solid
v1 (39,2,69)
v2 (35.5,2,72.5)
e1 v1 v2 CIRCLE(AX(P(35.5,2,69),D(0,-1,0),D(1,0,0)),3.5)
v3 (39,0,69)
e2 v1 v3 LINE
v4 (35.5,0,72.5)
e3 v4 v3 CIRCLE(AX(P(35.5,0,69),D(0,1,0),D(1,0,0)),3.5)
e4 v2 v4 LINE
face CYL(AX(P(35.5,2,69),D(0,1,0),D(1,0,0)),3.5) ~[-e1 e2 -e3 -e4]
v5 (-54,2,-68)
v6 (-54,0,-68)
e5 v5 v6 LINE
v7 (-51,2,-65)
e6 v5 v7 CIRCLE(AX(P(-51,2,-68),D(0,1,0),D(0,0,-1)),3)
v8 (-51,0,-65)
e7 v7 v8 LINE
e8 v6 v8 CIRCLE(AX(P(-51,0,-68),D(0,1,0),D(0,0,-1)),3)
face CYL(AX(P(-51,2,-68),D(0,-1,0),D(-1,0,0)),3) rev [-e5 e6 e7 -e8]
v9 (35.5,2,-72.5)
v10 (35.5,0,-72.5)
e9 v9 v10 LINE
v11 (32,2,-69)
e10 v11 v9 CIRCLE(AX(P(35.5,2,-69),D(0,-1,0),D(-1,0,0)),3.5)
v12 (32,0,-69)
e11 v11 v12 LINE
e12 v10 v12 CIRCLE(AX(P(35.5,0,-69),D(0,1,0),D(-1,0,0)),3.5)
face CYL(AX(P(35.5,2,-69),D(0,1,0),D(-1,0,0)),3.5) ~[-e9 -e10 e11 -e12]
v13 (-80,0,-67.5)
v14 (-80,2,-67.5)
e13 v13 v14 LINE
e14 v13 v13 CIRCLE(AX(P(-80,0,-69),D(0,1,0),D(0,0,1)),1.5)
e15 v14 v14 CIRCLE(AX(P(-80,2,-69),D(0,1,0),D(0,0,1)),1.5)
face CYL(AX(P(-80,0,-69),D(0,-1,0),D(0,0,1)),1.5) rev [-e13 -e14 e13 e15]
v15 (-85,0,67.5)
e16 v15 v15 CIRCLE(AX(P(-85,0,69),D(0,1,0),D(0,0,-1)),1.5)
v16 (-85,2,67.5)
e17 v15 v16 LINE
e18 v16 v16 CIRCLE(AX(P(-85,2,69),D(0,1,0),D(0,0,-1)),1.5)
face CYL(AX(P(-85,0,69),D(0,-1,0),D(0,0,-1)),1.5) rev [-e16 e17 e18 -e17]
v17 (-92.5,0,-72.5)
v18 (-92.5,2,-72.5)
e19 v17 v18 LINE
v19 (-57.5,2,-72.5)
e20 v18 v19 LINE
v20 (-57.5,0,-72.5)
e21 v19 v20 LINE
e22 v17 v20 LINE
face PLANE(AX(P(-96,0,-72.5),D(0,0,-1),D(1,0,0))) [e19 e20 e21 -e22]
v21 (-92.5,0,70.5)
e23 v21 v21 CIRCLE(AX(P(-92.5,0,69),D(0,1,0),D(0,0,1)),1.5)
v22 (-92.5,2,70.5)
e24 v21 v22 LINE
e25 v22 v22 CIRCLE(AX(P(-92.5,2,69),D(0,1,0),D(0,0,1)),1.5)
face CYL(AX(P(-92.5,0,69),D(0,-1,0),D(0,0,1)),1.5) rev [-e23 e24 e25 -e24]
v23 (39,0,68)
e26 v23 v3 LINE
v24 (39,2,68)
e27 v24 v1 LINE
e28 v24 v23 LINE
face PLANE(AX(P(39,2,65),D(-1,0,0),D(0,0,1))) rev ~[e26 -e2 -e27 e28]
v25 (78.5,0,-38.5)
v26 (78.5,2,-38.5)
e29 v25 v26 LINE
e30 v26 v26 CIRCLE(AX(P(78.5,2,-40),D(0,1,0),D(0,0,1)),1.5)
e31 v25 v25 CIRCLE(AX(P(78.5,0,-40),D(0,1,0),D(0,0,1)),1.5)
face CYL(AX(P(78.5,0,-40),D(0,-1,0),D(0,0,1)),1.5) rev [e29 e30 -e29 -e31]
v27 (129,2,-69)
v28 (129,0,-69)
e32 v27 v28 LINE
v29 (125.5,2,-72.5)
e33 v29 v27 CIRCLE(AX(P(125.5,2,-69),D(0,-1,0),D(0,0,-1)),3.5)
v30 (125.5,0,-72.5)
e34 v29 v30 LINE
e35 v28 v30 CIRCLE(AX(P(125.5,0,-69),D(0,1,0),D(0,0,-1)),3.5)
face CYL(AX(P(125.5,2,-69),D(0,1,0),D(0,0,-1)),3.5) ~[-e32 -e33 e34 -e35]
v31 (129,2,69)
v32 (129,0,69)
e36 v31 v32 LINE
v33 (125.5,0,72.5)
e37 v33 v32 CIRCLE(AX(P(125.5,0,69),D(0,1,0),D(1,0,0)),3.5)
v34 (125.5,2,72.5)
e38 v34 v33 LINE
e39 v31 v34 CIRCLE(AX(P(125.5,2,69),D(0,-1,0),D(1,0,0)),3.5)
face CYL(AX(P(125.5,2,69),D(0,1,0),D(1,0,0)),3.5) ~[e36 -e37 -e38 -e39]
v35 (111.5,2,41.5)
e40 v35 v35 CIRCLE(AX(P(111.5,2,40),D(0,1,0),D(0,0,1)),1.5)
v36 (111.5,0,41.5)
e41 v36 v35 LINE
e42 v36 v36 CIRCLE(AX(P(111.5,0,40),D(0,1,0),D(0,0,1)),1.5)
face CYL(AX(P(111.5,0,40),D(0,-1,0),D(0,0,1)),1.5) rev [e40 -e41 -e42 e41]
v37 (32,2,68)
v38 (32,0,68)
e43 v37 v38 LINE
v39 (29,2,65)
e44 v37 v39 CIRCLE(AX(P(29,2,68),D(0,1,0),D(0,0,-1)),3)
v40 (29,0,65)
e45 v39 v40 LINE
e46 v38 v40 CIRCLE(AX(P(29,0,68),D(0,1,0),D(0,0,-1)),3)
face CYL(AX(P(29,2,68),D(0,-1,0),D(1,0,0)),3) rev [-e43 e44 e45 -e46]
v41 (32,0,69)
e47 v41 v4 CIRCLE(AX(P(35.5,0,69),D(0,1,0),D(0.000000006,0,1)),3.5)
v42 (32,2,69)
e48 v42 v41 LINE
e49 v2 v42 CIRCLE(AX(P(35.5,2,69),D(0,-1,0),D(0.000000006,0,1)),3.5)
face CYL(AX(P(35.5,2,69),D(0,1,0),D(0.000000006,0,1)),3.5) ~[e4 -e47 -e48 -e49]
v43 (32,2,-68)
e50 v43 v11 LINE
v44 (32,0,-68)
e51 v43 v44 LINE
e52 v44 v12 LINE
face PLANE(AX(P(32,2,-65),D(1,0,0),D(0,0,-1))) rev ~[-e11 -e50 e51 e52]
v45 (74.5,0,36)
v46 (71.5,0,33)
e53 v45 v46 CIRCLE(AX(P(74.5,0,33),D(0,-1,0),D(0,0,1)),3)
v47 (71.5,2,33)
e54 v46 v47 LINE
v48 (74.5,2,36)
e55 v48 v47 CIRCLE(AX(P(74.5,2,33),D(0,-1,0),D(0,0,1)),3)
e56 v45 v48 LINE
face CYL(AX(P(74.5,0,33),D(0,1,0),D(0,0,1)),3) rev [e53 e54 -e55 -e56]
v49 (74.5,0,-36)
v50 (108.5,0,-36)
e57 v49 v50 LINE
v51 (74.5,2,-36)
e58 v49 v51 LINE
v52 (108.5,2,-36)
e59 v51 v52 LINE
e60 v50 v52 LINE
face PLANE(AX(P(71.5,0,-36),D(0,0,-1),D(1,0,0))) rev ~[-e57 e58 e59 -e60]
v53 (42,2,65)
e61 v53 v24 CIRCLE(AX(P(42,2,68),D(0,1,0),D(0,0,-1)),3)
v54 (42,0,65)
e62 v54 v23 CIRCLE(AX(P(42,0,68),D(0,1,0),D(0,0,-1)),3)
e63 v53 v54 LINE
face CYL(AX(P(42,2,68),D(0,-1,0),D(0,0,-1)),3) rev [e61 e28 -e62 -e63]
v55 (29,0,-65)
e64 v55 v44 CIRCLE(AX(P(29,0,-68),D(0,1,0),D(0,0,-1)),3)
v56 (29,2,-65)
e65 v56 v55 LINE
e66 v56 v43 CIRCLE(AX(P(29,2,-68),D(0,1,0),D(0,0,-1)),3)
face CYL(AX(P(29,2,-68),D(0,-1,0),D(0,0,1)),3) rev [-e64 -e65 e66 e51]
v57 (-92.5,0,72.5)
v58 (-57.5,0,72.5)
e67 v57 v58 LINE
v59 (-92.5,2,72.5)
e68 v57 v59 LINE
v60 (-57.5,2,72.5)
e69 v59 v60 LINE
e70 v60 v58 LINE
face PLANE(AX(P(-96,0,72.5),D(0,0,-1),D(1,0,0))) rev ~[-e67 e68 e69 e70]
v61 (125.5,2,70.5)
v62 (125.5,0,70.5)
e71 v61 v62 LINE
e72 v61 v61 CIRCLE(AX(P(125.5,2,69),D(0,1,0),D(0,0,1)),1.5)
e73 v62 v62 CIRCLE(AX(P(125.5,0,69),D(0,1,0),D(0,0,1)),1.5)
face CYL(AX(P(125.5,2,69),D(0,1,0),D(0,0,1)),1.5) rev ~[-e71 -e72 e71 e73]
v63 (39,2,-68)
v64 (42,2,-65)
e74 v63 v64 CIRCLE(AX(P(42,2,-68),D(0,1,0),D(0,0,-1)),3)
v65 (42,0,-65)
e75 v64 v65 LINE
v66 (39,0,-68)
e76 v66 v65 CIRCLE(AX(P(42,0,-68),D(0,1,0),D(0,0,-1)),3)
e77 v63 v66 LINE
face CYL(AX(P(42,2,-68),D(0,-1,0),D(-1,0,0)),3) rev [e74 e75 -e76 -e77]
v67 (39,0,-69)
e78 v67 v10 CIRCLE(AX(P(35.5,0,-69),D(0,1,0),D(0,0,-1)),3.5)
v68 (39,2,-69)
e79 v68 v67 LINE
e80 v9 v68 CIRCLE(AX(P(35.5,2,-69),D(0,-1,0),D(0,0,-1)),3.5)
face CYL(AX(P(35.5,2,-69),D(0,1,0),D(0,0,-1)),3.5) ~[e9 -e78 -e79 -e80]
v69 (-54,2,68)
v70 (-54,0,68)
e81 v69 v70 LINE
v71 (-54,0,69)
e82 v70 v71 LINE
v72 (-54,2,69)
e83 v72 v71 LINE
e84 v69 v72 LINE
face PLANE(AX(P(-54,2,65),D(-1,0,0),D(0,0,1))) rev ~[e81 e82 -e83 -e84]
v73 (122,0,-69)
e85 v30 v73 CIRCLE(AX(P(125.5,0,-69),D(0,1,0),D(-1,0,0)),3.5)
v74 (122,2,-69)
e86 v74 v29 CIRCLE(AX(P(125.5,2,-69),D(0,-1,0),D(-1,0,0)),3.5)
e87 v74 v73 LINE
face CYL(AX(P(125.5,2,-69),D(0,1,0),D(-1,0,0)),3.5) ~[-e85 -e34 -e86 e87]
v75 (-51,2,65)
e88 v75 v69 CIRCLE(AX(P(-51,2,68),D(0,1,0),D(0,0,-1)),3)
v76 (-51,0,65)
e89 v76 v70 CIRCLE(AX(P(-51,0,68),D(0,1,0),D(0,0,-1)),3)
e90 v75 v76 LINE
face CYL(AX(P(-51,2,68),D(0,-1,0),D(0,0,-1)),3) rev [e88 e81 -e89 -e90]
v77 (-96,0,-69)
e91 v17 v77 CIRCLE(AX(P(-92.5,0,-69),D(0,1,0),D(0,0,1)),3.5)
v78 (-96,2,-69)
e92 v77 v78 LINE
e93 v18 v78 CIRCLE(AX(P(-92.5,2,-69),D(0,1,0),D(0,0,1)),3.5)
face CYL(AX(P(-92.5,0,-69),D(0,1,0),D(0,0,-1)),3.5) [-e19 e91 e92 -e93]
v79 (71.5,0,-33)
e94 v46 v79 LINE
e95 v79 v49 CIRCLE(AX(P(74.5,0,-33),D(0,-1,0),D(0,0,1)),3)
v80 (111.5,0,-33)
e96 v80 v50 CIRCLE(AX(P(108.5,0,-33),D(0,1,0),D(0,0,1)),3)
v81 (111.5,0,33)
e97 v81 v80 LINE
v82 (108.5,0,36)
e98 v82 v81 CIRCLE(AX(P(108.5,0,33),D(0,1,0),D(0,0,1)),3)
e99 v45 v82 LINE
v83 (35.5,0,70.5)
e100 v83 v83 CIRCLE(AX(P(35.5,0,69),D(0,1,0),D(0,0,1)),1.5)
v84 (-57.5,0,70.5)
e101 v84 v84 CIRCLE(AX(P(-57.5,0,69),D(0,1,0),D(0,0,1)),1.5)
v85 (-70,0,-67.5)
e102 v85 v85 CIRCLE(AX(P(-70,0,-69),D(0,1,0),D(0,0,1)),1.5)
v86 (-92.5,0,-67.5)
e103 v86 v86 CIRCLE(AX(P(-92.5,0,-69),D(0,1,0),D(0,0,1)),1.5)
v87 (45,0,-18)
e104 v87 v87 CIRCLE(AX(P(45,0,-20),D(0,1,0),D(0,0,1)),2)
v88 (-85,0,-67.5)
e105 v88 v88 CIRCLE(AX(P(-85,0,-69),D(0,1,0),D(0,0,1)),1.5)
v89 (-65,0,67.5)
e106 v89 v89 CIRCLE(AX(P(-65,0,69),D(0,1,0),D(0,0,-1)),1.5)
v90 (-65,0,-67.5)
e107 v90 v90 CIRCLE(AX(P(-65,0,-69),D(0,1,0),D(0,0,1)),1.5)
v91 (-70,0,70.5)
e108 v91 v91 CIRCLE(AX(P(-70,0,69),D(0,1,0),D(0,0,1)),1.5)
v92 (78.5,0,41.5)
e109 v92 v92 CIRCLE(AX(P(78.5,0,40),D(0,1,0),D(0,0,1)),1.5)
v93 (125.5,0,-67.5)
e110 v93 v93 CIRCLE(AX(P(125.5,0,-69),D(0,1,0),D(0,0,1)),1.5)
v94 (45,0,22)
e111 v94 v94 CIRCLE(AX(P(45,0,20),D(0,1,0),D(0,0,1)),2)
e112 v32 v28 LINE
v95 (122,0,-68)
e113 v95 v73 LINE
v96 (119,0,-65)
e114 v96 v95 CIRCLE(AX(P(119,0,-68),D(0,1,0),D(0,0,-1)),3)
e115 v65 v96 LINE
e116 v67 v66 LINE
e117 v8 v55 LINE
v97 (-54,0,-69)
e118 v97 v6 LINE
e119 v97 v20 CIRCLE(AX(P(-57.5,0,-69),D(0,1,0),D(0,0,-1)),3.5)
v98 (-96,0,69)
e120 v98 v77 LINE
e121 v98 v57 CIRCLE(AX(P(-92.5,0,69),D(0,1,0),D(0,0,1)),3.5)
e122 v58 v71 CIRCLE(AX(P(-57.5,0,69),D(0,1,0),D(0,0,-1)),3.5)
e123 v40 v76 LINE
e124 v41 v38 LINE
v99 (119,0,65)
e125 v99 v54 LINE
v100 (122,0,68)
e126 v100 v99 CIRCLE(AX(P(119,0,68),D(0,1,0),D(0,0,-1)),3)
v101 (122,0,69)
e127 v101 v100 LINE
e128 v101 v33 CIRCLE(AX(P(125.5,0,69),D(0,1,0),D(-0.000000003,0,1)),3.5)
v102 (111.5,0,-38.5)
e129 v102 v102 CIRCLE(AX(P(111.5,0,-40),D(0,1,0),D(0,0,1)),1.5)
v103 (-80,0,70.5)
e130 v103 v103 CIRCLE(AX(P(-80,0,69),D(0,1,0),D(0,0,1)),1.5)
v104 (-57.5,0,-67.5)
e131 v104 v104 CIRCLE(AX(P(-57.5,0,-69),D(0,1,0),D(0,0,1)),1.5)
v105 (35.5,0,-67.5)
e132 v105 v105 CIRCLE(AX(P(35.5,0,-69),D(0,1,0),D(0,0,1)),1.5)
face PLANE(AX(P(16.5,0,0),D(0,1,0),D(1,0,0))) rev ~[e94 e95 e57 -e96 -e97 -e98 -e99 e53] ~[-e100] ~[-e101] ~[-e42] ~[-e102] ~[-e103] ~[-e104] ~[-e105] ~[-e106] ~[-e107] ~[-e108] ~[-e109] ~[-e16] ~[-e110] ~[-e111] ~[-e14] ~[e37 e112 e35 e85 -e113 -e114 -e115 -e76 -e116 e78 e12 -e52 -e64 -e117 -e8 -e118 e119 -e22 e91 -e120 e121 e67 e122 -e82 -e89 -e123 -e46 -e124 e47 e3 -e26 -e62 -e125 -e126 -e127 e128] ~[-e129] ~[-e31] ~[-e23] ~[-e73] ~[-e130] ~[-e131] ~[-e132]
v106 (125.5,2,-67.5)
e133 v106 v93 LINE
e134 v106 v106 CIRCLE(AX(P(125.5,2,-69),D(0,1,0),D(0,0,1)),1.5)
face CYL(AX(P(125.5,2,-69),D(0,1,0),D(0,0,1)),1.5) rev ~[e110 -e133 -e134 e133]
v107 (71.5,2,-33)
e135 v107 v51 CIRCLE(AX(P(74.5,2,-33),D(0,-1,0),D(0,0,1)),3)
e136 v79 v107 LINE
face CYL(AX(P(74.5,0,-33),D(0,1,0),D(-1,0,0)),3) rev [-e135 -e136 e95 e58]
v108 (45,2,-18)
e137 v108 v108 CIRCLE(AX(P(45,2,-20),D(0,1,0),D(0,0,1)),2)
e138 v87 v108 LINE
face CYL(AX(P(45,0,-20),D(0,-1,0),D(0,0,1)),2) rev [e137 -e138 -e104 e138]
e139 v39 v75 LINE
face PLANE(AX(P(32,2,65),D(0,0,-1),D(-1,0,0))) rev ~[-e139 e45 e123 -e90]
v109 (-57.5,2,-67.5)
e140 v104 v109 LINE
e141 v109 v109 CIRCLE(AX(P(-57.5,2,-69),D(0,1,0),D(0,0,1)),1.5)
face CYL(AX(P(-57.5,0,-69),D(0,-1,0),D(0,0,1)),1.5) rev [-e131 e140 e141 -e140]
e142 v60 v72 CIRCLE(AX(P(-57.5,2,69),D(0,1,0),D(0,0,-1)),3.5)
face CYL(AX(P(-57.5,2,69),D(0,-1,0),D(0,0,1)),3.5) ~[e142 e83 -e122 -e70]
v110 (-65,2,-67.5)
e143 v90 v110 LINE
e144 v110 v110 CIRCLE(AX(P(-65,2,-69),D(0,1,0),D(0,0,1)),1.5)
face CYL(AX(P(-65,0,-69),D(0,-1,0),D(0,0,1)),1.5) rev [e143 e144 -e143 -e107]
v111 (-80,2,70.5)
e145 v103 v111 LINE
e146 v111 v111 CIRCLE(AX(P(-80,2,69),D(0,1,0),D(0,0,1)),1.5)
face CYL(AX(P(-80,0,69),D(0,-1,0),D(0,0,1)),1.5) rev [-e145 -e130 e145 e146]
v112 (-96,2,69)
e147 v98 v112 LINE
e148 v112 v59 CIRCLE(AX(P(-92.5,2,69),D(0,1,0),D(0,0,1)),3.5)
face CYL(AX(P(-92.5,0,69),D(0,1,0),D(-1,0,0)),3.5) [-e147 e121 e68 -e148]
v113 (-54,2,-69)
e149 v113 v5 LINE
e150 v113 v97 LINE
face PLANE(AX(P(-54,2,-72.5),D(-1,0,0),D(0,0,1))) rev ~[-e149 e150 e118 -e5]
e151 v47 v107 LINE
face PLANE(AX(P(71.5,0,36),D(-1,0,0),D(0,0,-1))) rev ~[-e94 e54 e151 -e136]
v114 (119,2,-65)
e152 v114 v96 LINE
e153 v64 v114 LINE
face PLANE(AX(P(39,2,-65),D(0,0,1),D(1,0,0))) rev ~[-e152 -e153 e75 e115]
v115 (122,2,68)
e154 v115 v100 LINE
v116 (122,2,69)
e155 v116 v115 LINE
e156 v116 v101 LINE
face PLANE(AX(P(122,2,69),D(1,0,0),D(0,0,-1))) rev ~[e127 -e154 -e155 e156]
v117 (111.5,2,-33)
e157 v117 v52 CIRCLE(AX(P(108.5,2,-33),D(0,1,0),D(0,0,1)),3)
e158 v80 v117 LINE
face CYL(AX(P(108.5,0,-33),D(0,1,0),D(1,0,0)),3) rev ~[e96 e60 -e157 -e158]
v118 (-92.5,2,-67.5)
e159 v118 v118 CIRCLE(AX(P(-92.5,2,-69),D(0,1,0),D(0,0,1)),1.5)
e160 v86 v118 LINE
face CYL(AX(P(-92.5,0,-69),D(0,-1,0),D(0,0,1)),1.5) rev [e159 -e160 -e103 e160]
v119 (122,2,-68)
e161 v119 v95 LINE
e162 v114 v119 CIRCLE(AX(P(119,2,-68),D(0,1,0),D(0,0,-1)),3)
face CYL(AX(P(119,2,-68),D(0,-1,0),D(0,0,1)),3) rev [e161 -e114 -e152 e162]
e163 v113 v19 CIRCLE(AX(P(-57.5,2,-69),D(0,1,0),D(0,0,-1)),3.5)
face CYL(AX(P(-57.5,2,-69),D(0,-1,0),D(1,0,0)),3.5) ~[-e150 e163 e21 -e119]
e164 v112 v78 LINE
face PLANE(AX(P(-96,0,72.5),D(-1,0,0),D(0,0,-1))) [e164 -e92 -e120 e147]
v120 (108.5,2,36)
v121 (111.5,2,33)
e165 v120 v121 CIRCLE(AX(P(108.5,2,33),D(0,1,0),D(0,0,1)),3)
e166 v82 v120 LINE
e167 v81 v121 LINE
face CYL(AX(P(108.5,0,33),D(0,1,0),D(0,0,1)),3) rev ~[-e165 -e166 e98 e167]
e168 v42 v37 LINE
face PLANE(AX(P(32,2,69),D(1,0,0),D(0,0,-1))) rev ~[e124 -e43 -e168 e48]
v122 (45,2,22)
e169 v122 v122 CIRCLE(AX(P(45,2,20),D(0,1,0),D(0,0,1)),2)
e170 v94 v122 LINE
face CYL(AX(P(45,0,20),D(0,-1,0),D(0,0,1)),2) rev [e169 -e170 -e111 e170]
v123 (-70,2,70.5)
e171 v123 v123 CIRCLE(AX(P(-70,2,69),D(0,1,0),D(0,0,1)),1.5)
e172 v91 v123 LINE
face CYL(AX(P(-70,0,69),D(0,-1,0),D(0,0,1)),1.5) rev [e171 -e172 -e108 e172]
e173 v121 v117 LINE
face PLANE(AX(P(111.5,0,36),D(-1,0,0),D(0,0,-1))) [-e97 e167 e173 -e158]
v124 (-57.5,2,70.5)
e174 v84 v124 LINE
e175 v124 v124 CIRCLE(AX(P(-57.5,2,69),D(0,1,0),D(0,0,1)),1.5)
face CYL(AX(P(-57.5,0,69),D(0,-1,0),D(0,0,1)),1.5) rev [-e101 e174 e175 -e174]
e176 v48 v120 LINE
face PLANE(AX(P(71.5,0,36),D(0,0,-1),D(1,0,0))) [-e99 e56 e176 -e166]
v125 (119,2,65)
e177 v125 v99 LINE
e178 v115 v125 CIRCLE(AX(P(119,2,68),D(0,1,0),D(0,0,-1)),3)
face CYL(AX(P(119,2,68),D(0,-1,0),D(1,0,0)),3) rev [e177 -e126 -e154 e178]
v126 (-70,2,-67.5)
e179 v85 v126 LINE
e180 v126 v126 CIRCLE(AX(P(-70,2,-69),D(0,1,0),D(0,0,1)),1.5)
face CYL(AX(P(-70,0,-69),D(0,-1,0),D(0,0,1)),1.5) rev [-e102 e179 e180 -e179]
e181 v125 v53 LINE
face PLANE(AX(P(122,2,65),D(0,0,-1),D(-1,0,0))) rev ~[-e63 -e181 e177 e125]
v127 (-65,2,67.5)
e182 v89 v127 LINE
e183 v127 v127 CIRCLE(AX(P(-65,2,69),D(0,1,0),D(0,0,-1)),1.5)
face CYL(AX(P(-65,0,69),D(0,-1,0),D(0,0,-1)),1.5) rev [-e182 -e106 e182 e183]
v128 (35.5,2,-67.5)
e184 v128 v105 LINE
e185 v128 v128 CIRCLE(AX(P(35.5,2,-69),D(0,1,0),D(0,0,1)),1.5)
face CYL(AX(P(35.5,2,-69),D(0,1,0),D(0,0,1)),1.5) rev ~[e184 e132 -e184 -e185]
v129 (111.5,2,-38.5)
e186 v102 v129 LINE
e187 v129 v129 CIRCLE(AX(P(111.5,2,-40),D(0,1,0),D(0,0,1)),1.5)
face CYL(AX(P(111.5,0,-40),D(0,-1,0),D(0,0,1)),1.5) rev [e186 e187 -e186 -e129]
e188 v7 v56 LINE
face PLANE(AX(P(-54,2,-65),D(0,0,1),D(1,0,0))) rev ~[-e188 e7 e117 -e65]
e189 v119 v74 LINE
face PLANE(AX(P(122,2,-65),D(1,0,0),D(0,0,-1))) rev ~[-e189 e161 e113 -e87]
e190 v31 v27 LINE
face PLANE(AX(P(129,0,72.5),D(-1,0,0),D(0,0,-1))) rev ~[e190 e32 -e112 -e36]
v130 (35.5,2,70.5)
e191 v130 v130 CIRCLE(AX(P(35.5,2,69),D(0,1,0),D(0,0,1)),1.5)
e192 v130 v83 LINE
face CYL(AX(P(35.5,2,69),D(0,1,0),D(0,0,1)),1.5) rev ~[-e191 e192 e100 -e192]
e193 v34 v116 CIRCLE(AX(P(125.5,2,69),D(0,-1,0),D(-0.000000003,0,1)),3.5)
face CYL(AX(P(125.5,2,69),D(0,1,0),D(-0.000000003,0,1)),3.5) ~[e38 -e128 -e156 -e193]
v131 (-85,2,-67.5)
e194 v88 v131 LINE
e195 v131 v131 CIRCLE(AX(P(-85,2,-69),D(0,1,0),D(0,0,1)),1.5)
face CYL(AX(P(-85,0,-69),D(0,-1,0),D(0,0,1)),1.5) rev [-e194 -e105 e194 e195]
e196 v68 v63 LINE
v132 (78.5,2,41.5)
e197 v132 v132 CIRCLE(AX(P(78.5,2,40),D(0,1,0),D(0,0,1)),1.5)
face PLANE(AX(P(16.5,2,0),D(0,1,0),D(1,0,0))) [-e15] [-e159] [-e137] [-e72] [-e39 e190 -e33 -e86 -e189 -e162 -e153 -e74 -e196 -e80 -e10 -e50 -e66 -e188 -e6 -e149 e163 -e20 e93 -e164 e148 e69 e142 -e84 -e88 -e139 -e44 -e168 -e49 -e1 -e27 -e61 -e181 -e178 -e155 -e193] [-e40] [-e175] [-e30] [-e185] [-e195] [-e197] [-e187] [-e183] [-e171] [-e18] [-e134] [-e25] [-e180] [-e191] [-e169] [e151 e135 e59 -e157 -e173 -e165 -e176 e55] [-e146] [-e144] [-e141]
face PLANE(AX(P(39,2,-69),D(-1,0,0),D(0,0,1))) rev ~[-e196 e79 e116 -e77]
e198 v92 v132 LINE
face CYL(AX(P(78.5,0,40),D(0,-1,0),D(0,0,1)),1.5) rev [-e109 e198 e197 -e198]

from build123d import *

# Parameters (mm, degrees)
SKETCH1_W           = 225
SKETCH1_H           = 145
SKETCH1_R           = 1.5
SKETCH1_R_2         = 2
SKETCH1_W_2         = 40
SKETCH1_H_2         = 72
BOSS_EXTRUDE1_DEPTH = 2
SKETCH3_R           = 1.5
CUT_EXTRUDE1_DEPTH  = 10
FILLET3_R           = 3
FILLET4_R           = 3
FILLET5_R           = 3.5


with BuildPart() as part:
    # Sketch1 → Boss-Extrude1 (new body)
    with BuildSketch(Plane(origin=(0, 0, 0), x_dir=(1, 0, 0), z_dir=(0, 1, 0))):
        with Locations((16.5, 0)):
            Rectangle(SKETCH1_W, SKETCH1_H)
        with Locations(Location((-85, 69, 0), (0, 0, 270))):
            Circle(SKETCH1_R, mode=Mode.SUBTRACT)
        with Locations(Location((-65, 69, 0), (0, 0, 270))):
            Circle(SKETCH1_R, mode=Mode.SUBTRACT)
        with Locations(Location((-85, -69, 0), (0, 0, 90))):
            Circle(SKETCH1_R, mode=Mode.SUBTRACT)
        with Locations(Location((-65, -69, 0), (0, 0, 90))):
            Circle(SKETCH1_R, mode=Mode.SUBTRACT)
        with Locations(Location((45, 20, 0), (0, 0, 270))):
            Circle(SKETCH1_R_2, mode=Mode.SUBTRACT)
        with Locations(Location((45, -20, 0), (0, 0, 270))):
            Circle(SKETCH1_R_2, mode=Mode.SUBTRACT)
        with Locations(Location((-80, 69, 0), (0, 0, 270))):
            Circle(SKETCH1_R, mode=Mode.SUBTRACT)
        with Locations(Location((-70, 69, 0), (0, 0, 270))):
            Circle(SKETCH1_R, mode=Mode.SUBTRACT)
        with Locations(Location((-80, -69, 0), (0, 0, 270))):
            Circle(SKETCH1_R, mode=Mode.SUBTRACT)
        with Locations(Location((-70, -69, 0), (0, 0, 270))):
            Circle(SKETCH1_R, mode=Mode.SUBTRACT)
        with Locations(Location((78.5, -40, 0), (0, 0, 270))):
            Circle(SKETCH1_R, mode=Mode.SUBTRACT)
        with Locations(Location((111.5, -40, 0), (0, 0, 270))):
            Circle(SKETCH1_R, mode=Mode.SUBTRACT)
        with Locations(Location((111.5, 40, 0), (0, 0, 270))):
            Circle(SKETCH1_R, mode=Mode.SUBTRACT)
        with Locations(Location((78.5, 40, 0), (0, 0, 270))):
            Circle(SKETCH1_R, mode=Mode.SUBTRACT)
        with Locations(Location((-92.5, -69, 0), (0, 0, 270))):
            Circle(SKETCH1_R, mode=Mode.SUBTRACT)
        with Locations(Location((-57.5, -69, 0), (0, 0, 270))):
            Circle(SKETCH1_R, mode=Mode.SUBTRACT)
        with Locations(Location((-92.5, 69, 0), (0, 0, 270))):
            Circle(SKETCH1_R, mode=Mode.SUBTRACT)
        with Locations(Location((-57.5, 69, 0), (0, 0, 270))):
            Circle(SKETCH1_R, mode=Mode.SUBTRACT)
        with Locations((91.5, 0)):
            Rectangle(SKETCH1_W_2, SKETCH1_H_2, mode=Mode.SUBTRACT)
    extrude(amount=BOSS_EXTRUDE1_DEPTH)

    # Sketch3 → Cut-Extrude1 (cut)
    with BuildSketch(Plane(origin=(0, 2, 0), x_dir=(1, 0, 0), z_dir=(0, 1, 0))):
        with BuildLine():
            Line((-54, -72.5), (35.500000021, -72.5))
            ThreePointArc((35.500000021, -72.5), (33.025126273, -71.474873741), (32, -69))
            Line((32, -69), (32, -65))
            Line((32, -65), (-54, -65))
            Line((-54, -65), (-54, -72.5))
        make_face()
        with BuildLine():
            Line((122, -69), (122, -65))
            Line((122, -65), (39, -65))
            Line((39, -65), (39, -69))
            ThreePointArc((39, -69), (37.974873741, -71.474873727), (35.500000021, -72.5))
            Line((35.500000021, -72.5), (125.499999987, -72.5))
            ThreePointArc((125.499999987, -72.5), (123.025126261, -71.47487373), (122, -69))
        make_face()
        with BuildLine():
            Line((35.5, 72.5), (-54, 72.5))
            Line((-54, 72.5), (-54, 65))
            Line((-54, 65), (32, 65))
            Line((32, 65), (32, 69))
            ThreePointArc((32, 69), (33.025126266, 71.474873734), (35.5, 72.5))
        make_face()
        with BuildLine():
            Line((125.5, 72.5), (35.5, 72.5))
            ThreePointArc((35.5, 72.5), (37.974873734, 71.474873734), (39, 69))
            Line((39, 69), (39, 65))
            Line((39, 65), (122, 65))
            Line((122, 65), (122, 69))
            ThreePointArc((122, 69), (123.025126266, 71.474873734), (125.5, 72.5))
        make_face()
        with BuildLine():
            Line((129, 72.5), (125.5, 72.5))
            ThreePointArc((125.5, 72.5), (127.974873734, 71.474873734), (129, 69))
            Line((129, 69), (129, 72.5))
        make_face()
        with Locations(Location((125.5, 69, 0), (0, 0, 270))):
            Circle(SKETCH3_R)
        with Locations(Location((35.5, 69, 0), (0, 0, 270))):
            Circle(SKETCH3_R)
        with Locations(Location((35.5, -69, 0), (0, 0, 270))):
            Circle(SKETCH3_R)
        with BuildLine():
            Line((129, -72.5), (129, -69))
            ThreePointArc((129, -69), (127.97487373, -71.474873739), (125.499999987, -72.5))
            Line((125.499999987, -72.5), (129, -72.5))
        make_face()
        with Locations(Location((125.5, -69, 0), (0, 0, 270))):
            Circle(SKETCH3_R)
    extrude(amount=-CUT_EXTRUDE1_DEPTH, mode=Mode.SUBTRACT)

    # Fillet3
    fillet3_edges = [part.edges().sort_by_distance(p)[0] for p in [
        (71.5, 1, -36),
        (71.5, 1, 36),
        (111.5, 1, 36),
        (111.5, 1, -36),
    ]]
    fillet(fillet3_edges, radius=FILLET3_R)

    # Fillet4
    fillet4_edges = [part.edges().sort_by_distance(p)[0] for p in [
        (-54, 1, 65),
        (32, 1, 65),
        (122, 1, -65),
        (39, 1, -65),
        (39, 1, 65),
        (122, 1, 65),
        (32, 1, -65),
        (-54, 1, -65),
    ]]
    fillet(fillet4_edges, radius=FILLET4_R)

    # Fillet5
    fillet5_edges = [part.edges().sort_by_distance(p)[0] for p in [
        (-54, 1, 72.5),
        (-54, 1, -72.5),
        (-96, 1, -72.5),
        (-96, 1, 72.5),
    ]]
    fillet(fillet5_edges, radius=FILLET5_R)


solid = part.part
